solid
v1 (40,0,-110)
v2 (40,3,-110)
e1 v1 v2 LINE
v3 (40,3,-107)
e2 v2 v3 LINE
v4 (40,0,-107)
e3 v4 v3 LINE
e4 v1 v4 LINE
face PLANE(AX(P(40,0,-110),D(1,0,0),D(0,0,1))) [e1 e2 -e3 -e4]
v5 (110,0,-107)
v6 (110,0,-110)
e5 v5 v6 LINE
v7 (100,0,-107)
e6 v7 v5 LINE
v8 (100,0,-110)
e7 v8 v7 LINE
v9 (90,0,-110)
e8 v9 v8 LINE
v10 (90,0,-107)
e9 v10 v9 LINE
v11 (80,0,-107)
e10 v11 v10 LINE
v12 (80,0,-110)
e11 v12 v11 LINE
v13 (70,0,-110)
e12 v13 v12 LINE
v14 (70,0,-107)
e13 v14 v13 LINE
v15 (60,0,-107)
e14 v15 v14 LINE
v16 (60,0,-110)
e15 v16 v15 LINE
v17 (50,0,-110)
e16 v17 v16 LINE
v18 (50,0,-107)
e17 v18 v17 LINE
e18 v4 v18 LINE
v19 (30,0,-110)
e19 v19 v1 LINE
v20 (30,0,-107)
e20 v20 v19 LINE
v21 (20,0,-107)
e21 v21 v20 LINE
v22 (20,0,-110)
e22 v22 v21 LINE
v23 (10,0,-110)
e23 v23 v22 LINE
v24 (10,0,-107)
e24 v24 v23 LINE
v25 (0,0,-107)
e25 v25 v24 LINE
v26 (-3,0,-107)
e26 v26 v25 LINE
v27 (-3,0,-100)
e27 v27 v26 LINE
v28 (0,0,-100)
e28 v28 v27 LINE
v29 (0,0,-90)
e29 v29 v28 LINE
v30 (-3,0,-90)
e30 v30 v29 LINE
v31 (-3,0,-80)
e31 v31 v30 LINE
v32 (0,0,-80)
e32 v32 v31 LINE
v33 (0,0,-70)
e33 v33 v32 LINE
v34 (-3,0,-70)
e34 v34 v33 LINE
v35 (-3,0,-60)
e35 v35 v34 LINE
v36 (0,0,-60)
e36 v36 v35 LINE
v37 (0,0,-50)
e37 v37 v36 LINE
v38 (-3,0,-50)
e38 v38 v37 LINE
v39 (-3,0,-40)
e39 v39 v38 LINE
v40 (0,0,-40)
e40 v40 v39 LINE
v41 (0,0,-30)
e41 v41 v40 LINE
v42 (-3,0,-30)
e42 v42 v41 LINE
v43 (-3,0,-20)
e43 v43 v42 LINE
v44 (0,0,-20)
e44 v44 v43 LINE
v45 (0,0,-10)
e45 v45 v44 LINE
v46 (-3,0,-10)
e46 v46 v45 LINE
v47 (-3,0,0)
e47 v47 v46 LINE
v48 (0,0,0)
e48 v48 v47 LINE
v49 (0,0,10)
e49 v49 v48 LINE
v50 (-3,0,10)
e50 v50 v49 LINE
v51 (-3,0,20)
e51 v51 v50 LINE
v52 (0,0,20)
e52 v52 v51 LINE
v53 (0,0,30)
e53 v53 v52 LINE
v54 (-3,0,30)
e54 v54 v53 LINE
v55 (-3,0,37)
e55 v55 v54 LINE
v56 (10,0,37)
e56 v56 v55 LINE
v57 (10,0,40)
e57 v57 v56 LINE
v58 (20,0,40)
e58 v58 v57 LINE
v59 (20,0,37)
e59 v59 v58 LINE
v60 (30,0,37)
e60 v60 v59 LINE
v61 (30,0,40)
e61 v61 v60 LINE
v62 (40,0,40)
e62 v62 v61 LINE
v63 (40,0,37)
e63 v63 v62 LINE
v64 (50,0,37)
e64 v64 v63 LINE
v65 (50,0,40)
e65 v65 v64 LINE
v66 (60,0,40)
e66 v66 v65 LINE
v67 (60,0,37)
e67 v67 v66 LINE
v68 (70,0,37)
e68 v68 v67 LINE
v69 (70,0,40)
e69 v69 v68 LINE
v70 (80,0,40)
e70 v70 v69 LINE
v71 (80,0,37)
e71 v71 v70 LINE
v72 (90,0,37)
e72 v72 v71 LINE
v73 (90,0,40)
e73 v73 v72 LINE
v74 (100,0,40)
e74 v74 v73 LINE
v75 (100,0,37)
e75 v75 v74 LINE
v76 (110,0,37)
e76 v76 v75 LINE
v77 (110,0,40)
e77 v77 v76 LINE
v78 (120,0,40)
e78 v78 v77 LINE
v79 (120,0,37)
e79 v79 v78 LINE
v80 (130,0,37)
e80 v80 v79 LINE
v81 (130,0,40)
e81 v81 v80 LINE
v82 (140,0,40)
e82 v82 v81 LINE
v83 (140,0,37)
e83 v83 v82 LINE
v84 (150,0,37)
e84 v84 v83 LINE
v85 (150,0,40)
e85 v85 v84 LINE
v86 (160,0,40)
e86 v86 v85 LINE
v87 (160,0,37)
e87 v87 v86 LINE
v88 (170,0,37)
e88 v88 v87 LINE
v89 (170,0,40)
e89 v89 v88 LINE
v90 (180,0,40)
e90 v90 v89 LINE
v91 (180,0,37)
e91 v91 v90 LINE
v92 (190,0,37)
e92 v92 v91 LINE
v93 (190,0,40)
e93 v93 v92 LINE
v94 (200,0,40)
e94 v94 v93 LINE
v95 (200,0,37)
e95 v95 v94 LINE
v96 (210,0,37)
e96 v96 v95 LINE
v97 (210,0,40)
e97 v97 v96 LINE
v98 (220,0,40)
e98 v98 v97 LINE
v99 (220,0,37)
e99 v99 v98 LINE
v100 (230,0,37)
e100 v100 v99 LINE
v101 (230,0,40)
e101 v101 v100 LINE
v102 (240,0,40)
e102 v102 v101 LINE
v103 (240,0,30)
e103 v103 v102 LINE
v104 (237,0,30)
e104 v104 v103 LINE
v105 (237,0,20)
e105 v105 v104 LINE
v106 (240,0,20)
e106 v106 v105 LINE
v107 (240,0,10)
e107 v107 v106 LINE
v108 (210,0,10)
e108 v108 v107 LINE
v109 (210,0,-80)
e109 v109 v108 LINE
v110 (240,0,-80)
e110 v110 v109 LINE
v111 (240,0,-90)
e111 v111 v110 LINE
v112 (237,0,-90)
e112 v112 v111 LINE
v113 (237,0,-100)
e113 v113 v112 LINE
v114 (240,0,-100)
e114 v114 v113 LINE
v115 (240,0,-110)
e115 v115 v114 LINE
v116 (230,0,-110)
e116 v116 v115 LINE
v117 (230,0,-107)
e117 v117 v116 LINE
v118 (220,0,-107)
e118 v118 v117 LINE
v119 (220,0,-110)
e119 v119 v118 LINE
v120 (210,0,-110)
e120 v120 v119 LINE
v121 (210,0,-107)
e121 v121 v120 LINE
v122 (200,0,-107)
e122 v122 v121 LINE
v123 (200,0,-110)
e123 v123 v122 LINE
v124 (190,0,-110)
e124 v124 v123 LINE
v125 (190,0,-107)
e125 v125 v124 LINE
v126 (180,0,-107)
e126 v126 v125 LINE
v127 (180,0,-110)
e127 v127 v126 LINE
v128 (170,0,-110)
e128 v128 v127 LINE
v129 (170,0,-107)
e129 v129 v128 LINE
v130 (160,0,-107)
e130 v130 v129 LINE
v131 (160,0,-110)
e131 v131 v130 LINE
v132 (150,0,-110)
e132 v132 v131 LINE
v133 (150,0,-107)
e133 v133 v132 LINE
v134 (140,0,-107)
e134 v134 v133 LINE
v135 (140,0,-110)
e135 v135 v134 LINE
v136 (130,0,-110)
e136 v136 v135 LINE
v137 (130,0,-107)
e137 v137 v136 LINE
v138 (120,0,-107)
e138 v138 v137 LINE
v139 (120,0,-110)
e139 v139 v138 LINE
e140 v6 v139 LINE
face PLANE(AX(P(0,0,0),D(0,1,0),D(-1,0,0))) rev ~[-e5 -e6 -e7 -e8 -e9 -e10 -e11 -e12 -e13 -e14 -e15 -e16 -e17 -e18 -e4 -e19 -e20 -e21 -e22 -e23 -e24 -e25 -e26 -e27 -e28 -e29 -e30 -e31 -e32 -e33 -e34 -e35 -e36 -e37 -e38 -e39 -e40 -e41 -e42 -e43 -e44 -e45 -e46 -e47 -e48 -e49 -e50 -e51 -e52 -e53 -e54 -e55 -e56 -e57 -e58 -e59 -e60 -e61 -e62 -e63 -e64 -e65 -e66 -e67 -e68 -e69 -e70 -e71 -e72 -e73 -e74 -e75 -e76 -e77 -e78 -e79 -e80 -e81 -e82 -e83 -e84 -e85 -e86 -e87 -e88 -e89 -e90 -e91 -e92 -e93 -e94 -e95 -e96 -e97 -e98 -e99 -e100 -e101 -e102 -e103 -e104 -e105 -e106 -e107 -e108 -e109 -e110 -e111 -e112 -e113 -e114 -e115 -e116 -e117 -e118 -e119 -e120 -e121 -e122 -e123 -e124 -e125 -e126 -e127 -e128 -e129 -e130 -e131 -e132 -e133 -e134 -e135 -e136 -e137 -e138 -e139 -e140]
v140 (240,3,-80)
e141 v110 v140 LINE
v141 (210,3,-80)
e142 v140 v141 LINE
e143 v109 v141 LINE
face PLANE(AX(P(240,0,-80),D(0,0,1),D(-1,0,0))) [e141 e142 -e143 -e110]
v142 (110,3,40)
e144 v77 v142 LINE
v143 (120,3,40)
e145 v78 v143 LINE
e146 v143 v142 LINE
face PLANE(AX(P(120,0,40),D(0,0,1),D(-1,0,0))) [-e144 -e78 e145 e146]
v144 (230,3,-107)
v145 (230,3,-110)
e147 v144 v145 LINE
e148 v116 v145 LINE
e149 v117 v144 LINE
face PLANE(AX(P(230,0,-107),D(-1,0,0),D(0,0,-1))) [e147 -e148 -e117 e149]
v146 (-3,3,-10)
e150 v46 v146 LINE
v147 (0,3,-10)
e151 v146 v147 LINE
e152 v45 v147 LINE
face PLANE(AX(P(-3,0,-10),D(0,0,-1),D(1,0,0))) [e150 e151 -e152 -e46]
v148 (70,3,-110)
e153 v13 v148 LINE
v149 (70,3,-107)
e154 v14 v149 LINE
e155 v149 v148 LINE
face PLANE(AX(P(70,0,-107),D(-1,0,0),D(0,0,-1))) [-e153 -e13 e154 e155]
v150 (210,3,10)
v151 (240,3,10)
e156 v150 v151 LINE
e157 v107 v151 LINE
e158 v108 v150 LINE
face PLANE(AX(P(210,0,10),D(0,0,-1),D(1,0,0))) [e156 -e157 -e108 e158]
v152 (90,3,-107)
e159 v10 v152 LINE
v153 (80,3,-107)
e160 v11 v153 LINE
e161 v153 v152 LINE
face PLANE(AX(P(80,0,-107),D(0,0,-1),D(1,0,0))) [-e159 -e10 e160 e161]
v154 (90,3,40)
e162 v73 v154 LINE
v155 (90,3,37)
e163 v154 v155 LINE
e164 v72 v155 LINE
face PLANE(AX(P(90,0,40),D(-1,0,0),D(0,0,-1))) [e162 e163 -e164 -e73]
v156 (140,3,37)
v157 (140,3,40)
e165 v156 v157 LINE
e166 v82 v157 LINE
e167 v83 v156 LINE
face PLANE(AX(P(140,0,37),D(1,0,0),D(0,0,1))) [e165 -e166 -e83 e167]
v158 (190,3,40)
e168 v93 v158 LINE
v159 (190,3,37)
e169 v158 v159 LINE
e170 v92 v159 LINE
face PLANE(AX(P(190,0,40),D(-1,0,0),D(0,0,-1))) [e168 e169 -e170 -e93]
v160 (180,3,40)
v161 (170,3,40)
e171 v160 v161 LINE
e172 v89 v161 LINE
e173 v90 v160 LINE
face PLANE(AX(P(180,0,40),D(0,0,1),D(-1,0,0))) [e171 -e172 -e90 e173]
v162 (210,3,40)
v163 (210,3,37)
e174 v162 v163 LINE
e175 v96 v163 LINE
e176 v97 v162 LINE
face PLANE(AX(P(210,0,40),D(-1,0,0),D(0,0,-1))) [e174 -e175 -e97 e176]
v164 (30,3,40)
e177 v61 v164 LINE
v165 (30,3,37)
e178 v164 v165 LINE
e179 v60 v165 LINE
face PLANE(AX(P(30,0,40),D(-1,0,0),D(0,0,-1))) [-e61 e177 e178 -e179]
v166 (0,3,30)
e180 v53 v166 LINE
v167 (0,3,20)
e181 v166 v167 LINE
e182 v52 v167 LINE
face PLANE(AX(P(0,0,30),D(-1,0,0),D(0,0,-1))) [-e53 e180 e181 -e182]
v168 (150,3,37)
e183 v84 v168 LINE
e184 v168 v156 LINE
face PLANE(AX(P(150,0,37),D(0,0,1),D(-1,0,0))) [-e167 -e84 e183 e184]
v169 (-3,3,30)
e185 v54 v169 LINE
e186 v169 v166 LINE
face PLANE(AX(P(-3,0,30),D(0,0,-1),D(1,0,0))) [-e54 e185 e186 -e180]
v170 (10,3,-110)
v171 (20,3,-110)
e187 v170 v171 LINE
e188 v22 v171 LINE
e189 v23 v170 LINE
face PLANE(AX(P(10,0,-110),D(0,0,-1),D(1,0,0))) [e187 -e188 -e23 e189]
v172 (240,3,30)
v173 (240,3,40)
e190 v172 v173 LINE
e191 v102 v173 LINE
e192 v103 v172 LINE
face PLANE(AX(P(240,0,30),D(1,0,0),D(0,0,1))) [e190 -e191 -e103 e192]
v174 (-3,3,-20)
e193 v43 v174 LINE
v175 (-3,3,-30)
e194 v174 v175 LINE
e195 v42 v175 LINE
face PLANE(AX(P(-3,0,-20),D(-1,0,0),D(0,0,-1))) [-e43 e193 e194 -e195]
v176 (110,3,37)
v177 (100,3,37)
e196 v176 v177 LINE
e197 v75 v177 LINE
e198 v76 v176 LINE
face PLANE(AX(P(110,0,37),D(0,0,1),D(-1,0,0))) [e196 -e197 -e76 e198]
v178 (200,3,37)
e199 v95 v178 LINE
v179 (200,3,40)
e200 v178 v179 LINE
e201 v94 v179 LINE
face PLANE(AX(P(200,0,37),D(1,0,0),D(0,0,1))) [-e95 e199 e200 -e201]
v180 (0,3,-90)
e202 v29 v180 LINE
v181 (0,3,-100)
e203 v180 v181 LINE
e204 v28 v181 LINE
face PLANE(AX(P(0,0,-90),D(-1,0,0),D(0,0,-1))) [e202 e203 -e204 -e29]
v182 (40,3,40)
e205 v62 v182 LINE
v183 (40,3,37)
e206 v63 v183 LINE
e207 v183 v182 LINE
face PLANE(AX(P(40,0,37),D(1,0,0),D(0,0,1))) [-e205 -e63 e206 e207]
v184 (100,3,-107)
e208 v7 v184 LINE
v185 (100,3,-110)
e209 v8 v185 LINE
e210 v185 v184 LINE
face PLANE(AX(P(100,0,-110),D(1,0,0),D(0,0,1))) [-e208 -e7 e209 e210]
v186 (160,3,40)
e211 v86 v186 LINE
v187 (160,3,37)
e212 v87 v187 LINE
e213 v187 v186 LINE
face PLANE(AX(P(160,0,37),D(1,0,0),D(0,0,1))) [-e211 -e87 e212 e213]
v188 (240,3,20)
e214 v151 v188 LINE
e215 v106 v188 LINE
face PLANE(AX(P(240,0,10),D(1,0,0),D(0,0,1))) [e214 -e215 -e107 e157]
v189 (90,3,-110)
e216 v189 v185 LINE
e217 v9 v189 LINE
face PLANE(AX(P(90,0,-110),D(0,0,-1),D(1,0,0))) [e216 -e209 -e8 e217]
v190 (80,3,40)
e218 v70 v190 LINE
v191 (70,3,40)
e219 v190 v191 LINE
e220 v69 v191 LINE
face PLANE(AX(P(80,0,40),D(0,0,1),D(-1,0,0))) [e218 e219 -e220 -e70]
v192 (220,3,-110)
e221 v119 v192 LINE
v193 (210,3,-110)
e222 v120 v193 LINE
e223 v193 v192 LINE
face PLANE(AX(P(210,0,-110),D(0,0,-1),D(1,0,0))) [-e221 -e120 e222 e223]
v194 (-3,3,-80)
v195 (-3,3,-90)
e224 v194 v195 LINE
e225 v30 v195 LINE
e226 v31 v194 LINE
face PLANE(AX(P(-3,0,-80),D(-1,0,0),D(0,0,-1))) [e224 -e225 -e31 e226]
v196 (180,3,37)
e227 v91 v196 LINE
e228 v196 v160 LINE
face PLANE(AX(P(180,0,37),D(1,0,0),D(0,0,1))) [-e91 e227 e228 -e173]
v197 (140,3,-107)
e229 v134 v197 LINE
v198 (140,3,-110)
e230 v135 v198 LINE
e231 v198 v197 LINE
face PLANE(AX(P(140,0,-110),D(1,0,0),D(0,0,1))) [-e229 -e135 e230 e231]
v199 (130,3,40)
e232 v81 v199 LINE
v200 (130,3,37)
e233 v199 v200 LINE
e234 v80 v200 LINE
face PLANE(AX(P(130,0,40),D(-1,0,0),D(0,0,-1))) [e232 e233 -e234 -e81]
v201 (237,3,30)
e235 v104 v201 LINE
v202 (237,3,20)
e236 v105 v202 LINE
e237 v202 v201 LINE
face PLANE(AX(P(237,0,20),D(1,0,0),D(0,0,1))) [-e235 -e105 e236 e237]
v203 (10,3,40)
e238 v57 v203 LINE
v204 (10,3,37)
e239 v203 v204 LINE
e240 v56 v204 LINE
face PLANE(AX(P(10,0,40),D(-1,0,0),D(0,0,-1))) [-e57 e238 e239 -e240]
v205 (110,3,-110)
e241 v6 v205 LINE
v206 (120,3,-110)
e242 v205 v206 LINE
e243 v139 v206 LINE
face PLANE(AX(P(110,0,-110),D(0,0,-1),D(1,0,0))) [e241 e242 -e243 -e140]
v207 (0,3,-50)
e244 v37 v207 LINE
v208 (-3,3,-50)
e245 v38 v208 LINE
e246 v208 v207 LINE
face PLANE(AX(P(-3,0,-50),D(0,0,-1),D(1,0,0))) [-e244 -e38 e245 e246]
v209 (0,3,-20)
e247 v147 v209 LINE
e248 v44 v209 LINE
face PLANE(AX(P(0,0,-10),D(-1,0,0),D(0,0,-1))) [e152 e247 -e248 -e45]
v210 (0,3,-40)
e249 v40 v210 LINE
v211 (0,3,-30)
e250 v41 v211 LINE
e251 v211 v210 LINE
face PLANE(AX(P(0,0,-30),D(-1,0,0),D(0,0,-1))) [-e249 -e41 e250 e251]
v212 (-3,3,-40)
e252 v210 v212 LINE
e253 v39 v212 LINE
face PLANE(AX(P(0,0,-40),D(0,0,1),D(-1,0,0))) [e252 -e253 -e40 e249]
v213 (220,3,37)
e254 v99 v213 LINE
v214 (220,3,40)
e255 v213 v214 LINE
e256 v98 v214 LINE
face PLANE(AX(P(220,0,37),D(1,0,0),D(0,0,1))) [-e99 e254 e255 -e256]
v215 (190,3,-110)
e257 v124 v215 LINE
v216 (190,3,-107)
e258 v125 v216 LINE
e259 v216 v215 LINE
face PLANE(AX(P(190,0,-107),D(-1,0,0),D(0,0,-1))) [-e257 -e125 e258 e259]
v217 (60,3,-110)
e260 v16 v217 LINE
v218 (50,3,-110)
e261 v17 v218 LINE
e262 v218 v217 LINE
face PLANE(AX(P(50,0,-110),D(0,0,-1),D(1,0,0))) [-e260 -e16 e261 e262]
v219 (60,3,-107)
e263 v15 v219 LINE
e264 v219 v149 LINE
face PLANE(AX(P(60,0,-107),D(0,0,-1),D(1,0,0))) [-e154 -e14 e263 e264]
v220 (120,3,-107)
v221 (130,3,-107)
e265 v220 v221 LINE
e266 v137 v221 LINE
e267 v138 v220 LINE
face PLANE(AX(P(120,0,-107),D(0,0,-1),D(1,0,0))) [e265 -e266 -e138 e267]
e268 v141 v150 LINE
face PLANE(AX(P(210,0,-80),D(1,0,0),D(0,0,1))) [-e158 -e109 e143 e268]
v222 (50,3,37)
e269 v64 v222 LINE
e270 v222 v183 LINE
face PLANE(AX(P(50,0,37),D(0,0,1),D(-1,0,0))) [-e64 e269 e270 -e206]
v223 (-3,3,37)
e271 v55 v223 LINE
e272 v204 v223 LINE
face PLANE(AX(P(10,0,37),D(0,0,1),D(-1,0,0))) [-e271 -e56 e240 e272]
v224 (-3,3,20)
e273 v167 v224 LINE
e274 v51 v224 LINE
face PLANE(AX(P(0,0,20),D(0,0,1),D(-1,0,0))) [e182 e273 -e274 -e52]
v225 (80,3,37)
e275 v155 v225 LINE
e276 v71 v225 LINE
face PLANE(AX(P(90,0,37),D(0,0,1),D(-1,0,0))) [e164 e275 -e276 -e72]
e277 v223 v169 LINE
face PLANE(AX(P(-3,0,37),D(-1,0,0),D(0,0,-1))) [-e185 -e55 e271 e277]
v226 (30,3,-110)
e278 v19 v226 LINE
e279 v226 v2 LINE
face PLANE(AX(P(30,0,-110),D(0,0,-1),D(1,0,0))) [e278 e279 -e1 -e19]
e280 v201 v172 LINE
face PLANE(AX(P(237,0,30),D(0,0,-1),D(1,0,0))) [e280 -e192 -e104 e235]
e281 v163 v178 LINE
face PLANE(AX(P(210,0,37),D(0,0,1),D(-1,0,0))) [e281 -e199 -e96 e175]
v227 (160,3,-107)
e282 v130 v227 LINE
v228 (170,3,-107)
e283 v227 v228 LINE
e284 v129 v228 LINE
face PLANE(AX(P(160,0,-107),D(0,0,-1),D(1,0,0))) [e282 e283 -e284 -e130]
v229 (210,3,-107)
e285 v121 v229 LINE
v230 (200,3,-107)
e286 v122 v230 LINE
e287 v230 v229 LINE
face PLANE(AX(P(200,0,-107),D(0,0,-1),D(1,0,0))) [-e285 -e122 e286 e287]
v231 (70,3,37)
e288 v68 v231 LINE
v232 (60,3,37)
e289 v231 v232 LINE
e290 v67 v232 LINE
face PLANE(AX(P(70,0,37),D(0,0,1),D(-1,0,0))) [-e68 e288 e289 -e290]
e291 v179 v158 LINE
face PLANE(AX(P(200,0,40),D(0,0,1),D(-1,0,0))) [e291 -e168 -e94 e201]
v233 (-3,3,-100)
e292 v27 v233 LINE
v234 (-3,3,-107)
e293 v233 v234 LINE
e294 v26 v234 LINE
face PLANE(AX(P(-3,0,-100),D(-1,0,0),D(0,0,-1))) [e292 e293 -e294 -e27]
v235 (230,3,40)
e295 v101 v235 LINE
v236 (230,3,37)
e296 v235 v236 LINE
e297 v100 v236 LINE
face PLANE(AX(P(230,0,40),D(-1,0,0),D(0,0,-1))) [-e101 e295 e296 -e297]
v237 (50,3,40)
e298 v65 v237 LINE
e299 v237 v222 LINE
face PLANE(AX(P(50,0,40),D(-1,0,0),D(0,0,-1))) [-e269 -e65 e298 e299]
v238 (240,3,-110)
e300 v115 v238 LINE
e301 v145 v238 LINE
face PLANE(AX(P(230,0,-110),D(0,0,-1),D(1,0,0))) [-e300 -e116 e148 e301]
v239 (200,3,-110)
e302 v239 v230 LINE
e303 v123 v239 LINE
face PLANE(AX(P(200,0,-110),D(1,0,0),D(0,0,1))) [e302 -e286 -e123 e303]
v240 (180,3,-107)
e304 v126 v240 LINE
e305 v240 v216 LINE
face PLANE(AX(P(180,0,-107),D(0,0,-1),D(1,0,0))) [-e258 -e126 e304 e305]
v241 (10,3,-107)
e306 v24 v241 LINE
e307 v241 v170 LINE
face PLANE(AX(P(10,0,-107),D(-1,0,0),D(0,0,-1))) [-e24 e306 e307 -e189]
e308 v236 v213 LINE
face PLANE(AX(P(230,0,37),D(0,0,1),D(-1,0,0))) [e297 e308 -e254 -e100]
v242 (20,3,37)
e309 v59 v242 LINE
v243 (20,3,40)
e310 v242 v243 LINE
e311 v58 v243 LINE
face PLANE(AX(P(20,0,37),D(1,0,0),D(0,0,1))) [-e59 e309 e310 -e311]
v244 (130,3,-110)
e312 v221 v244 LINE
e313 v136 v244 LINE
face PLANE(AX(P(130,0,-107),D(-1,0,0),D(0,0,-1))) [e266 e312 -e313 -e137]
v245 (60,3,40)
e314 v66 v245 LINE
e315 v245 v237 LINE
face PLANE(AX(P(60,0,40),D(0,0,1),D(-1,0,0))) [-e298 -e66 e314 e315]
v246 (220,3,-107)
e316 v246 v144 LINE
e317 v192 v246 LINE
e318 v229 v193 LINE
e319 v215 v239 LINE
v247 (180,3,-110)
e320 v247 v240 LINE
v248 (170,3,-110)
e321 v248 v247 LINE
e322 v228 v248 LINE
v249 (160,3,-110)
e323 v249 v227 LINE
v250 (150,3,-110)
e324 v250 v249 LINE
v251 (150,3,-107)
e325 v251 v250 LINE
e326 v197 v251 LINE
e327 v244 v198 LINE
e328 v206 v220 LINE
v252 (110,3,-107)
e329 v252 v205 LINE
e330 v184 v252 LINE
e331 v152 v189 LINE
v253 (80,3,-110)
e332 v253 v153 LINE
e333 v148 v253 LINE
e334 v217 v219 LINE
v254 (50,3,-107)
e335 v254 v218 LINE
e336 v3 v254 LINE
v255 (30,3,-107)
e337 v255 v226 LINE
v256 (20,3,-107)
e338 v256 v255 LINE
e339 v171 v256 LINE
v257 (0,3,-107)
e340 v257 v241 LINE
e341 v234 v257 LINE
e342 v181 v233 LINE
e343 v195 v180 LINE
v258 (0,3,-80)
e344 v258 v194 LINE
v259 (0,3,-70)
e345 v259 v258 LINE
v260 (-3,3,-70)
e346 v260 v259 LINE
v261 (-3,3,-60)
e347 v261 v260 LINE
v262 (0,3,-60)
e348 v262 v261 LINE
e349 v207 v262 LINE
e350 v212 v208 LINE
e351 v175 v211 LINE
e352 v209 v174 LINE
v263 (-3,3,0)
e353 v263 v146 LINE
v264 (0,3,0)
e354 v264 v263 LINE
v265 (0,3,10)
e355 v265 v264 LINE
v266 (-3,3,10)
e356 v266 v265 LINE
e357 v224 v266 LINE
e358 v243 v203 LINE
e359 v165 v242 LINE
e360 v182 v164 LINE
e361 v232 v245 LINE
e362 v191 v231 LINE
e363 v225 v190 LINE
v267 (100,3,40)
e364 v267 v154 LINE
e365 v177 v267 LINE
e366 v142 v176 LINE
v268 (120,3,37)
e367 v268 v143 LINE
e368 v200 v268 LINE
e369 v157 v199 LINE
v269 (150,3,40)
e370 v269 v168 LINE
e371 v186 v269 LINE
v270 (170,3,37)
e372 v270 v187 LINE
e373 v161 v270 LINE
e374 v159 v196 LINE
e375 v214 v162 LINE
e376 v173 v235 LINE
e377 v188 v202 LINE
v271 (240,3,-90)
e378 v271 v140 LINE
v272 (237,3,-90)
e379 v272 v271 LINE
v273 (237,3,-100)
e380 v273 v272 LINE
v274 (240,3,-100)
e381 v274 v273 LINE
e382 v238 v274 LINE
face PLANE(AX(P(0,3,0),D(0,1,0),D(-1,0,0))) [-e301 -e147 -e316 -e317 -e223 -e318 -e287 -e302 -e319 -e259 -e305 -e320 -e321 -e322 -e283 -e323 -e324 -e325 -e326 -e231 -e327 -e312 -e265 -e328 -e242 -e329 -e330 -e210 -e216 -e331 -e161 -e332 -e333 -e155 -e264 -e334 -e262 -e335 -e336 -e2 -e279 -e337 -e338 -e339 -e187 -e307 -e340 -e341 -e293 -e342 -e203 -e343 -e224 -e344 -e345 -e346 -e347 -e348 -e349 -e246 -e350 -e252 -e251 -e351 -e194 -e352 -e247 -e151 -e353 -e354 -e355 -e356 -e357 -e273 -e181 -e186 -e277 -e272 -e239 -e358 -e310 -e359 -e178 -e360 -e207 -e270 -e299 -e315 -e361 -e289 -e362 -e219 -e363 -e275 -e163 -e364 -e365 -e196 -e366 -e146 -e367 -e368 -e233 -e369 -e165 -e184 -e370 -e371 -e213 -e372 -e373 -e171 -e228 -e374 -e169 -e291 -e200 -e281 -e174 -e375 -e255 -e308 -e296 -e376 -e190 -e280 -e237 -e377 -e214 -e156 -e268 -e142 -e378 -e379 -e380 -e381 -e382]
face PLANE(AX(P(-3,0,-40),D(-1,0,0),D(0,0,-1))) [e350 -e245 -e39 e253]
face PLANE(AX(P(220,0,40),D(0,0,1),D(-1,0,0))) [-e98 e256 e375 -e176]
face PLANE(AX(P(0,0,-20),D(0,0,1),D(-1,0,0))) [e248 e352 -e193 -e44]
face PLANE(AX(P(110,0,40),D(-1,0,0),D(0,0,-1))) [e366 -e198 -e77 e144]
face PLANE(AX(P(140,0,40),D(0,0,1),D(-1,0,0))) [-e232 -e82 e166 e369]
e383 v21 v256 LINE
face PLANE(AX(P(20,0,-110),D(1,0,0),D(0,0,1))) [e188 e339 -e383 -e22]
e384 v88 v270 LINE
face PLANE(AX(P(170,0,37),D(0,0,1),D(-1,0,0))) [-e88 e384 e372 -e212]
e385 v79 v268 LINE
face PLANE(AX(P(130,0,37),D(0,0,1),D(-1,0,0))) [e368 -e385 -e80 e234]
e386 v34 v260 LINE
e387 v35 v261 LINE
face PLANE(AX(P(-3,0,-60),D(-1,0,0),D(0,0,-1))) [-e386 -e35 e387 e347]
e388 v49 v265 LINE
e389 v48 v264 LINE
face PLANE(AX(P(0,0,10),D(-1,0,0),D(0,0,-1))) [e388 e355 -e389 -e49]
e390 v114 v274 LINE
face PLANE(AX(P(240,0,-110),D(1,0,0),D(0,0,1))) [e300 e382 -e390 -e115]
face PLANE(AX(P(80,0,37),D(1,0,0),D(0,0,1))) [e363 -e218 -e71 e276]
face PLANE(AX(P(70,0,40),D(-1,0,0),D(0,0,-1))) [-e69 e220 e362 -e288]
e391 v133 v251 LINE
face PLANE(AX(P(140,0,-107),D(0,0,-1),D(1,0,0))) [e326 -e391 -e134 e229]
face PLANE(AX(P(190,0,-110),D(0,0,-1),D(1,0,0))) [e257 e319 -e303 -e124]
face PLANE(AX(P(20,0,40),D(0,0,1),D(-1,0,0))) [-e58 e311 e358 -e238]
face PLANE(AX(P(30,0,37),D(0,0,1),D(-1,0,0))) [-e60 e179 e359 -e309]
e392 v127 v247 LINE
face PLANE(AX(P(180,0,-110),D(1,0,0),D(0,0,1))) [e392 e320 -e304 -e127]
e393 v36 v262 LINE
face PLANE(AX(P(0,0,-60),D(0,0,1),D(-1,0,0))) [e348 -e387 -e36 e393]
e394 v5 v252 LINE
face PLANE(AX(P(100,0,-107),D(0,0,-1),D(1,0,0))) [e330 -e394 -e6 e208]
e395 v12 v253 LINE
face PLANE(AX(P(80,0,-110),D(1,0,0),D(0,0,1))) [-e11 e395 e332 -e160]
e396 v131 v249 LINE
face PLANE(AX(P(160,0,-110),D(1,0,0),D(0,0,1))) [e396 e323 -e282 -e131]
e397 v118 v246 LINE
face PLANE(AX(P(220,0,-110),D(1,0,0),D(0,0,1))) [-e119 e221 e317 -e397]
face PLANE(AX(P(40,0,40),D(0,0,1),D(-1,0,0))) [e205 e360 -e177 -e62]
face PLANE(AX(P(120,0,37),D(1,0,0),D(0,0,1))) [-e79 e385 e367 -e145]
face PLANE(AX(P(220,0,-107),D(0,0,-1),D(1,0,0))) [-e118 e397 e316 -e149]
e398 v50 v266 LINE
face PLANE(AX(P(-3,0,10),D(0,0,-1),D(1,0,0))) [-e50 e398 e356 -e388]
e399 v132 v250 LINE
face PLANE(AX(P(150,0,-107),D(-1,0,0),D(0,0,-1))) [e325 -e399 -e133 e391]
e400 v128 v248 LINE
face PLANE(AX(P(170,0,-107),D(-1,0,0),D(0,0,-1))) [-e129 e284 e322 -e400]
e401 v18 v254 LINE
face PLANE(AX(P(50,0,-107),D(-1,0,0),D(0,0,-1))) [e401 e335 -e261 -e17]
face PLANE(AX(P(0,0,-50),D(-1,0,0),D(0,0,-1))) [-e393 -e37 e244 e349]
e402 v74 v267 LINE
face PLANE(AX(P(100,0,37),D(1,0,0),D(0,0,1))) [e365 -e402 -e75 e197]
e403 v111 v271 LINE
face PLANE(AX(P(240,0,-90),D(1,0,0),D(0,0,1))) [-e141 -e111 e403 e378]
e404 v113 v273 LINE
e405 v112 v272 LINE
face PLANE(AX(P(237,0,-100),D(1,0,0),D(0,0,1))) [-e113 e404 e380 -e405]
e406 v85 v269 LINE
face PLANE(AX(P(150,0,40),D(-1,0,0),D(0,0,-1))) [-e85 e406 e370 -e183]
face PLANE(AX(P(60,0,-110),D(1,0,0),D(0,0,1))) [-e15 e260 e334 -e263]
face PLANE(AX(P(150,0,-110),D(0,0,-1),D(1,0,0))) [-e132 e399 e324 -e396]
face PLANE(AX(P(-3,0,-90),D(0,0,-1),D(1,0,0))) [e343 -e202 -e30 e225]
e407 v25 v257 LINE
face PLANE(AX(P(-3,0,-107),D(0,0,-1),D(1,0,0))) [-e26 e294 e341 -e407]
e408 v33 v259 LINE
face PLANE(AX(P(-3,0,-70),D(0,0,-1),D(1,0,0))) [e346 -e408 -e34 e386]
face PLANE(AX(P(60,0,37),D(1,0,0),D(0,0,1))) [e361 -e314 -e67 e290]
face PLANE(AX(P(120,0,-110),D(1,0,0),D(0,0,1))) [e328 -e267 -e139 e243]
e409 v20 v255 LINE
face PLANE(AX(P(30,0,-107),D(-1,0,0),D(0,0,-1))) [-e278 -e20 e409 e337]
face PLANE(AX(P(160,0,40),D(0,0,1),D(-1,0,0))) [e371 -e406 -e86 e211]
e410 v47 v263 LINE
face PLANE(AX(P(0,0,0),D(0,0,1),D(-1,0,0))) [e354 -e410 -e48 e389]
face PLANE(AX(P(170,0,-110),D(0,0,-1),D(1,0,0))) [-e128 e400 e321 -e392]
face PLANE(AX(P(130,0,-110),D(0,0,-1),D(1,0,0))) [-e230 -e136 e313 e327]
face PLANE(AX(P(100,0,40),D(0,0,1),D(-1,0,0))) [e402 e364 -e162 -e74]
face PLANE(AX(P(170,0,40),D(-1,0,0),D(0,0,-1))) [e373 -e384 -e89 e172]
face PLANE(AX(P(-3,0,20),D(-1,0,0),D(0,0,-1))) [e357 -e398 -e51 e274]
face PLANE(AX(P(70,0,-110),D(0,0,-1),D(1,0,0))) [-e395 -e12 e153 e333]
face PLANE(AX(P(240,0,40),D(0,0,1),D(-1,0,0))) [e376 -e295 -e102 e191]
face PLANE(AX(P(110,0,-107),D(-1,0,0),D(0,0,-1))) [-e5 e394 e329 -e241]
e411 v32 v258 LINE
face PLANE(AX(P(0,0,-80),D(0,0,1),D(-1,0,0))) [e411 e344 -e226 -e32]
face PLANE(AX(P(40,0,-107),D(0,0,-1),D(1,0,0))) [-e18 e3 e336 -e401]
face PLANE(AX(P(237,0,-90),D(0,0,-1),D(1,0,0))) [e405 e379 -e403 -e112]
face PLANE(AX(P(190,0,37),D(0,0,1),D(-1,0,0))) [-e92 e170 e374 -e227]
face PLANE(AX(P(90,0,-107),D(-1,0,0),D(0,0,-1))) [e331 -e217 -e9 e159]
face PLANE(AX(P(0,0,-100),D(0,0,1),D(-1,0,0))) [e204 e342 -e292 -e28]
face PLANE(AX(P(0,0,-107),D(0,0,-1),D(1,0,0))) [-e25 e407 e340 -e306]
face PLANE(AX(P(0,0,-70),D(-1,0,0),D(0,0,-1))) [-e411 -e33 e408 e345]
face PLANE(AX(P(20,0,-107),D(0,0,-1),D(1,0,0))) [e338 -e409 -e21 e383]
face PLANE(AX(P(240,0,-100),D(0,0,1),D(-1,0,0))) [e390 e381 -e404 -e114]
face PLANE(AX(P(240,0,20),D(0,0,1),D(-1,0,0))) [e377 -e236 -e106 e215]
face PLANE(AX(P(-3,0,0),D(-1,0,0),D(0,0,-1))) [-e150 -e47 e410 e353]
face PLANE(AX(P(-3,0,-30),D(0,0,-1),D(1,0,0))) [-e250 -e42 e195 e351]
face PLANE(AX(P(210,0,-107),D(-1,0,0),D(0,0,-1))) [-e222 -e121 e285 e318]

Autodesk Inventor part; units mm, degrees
ref_plane "YZ Plane" through (0, 0, 0) normal (1, 0, 0) x (0, 1, 0)
ref_plane "XZ Plane" through (0, 0, 0) normal (0, 1, 0) x (-1, 0, 0)
ref_plane "XY Plane" through (0, 0, 0) normal (0, 0, 1) x (1, 0, 0)
sketch "Sketch1" plane through (0, 0, 0) normal (0, 1, 0) x (-1, 0, 0)
  point P0 (0, 0)
sketch "Sketch2" plane through (0, 0, 0) normal (0, 1, 0) x (-1, 0, 0)
  line L0 (0, 0) -> (3, 0)
  line L1 (3, 0) -> (3, -10)
  line L2 (3, -10) -> (0, -10)
  line L3 (0, -10) -> (0, -20)
  line L4 (0, -20) -> (3, -20)
  line L5 (3, -20) -> (3, -30)
  line L6 (3, -30) -> (0, -30)
  line L7 (0, -30) -> (0, -40)
  line L8 (0, -40) -> (3, -40)
  line L9 (3, -40) -> (3, -50)
  line L10 (3, -50) -> (0, -50)
  line L11 (0, -50) -> (0, -60)
  line L12 (0, -60) -> (3, -60)
  line L13 (3, -60) -> (3, -70)
  line L14 (3, -70) -> (0, -70)
  line L15 (0, -70) -> (0, -80)
  line L16 (0, -80) -> (3, -80)
  line L17 (3, -80) -> (3, -90)
  line L18 (3, -90) -> (0, -90)
  line L19 (0, -90) -> (0, -100)
  line L20 (0, -100) -> (3, -100)
  line L21 (3, -100) -> (3, -107)
  line L22 (3, -107) -> (0, -107)
  line L23 (0, -107) -> (-10, -107)
  line L24 (-10, -107) -> (-10, -110)
  line L25 (-10, -110) -> (-20, -110)
  line L26 (-20, -110) -> (-20, -107)
  line L27 (-20, -107) -> (-30, -107)
  line L28 (-30, -107) -> (-30, -110)
  line L29 (-30, -110) -> (-40, -110)
  line L30 (-40, -110) -> (-40, -107)
  line L31 (-40, -107) -> (-50, -107)
  line L32 (-50, -107) -> (-50, -110)
  line L33 (-50, -110) -> (-60, -110)
  line L34 (-60, -110) -> (-60, -107)
  line L35 (-60, -107) -> (-70, -107)
  line L36 (-70, -107) -> (-70, -110)
  line L37 (-70, -110) -> (-80, -110)
  line L38 (-80, -110) -> (-80, -107)
  line L39 (-80, -107) -> (-90, -107)
  line L40 (-90, -107) -> (-90, -110)
  line L41 (-90, -110) -> (-100, -110)
  line L42 (-100, -110) -> (-100, -107)
  line L43 (-100, -107) -> (-110, -107)
  line L44 (-110, -107) -> (-110, -110)
  line L45 (-110, -110) -> (-120, -110)
  line L46 (-120, -110) -> (-120, -107)
  line L47 (-120, -107) -> (-130, -107)
  line L48 (-130, -107) -> (-130, -110)
  line L49 (-130, -110) -> (-140, -110)
  line L50 (-140, -110) -> (-140, -107)
  line L51 (-140, -107) -> (-150, -107)
  line L52 (-150, -107) -> (-150, -110)
  line L53 (-150, -110) -> (-160, -110)
  line L54 (-160, -110) -> (-160, -107)
  line L55 (-160, -107) -> (-170, -107)
  line L56 (-170, -107) -> (-170, -110)
  line L57 (-170, -110) -> (-180, -110)
  line L58 (-180, -110) -> (-180, -107)
  line L59 (-180, -107) -> (-190, -107)
  line L60 (-190, -107) -> (-190, -110)
  line L61 (-190, -110) -> (-200, -110)
  line L62 (-200, -110) -> (-200, -107)
  line L63 (-200, -107) -> (-210, -107)
  line L64 (-210, -107) -> (-210, -110)
  line L65 (-210, -110) -> (-220, -110)
  line L66 (-220, -110) -> (-220, -107)
  line L67 (-220, -107) -> (-230, -107)
  line L68 (-230, -107) -> (-230, -110)
  line L69 (-230, -110) -> (-240, -110)
  line L70 (-240, -110) -> (-240, -100)
  line L71 (-240, -100) -> (-237, -100)
  line L72 (-237, -100) -> (-237, -90)
  line L73 (-237, -90) -> (-240, -90)
  line L74 (-240, -90) -> (-240, -80)
  line L75 (-240, -80) -> (-210, -80)
  line L76 (-210, -80) -> (-210, 10)
  line L77 (-210, 10) -> (-240, 10)
  line L78 (-240, 10) -> (-240, 20)
  line L79 (-240, 20) -> (-237, 20)
  line L80 (-237, 20) -> (-237, 30)
  line L81 (-237, 30) -> (-240, 30)
  line L82 (-240, 30) -> (-240, 40)
  line L83 (-240, 40) -> (-230, 40)
  line L84 (-230, 40) -> (-230, 37)
  line L85 (-230, 37) -> (-220, 37)
  line L86 (-220, 37) -> (-220, 40)
  line L87 (-220, 40) -> (-210, 40)
  line L88 (-210, 40) -> (-210, 37)
  line L89 (-210, 37) -> (-200, 37)
  line L90 (-200, 37) -> (-200, 40)
  line L91 (-200, 40) -> (-190, 40)
  line L92 (-190, 40) -> (-190, 37)
  line L93 (-190, 37) -> (-180, 37)
  line L94 (-180, 37) -> (-180, 40)
  line L95 (-180, 40) -> (-170, 40)
  line L96 (-170, 40) -> (-170, 37)
  line L97 (-170, 37) -> (-160, 37)
  line L98 (-160, 37) -> (-160, 40)
  line L99 (-160, 40) -> (-150, 40)
  line L100 (-150, 40) -> (-150, 37)
  line L101 (-150, 37) -> (-140, 37)
  line L102 (-140, 37) -> (-140, 40)
  line L103 (-140, 40) -> (-130, 40)
  line L104 (-130, 40) -> (-130, 37)
  line L105 (-130, 37) -> (-120, 37)
  line L106 (-120, 37) -> (-120, 40)
  line L107 (-120, 40) -> (-110, 40)
  line L108 (-110, 40) -> (-110, 37)
  line L109 (-110, 37) -> (-100, 37)
  line L110 (-100, 37) -> (-100, 40)
  line L111 (-100, 40) -> (-90, 40)
  line L112 (-90, 40) -> (-90, 37)
  line L113 (-90, 37) -> (-80, 37)
  line L114 (-80, 37) -> (-80, 40)
  line L115 (-80, 40) -> (-70, 40)
  line L116 (-70, 40) -> (-70, 37)
  line L117 (-70, 37) -> (-60, 37)
  line L118 (-60, 37) -> (-60, 40)
  line L119 (-60, 40) -> (-50, 40)
  line L120 (-50, 40) -> (-50, 37)
  line L121 (-50, 37) -> (-40, 37)
  line L122 (-40, 37) -> (-40, 40)
  line L123 (-40, 40) -> (-30, 40)
  line L124 (-30, 40) -> (-30, 37)
  line L125 (-30, 37) -> (-20, 37)
  line L126 (-20, 37) -> (-20, 40)
  line L127 (-20, 40) -> (-10, 40)
  line L128 (-10, 40) -> (-10, 37)
  line L129 (-10, 37) -> (3, 37)
  line L130 (3, 37) -> (3, 30)
  line L131 (3, 30) -> (0, 30)
  line L132 (0, 30) -> (0, 20)
  line L133 (3, 10) -> (0, 10)
  line L134 (0, 10) -> (0, 0)
  line L135 (3, 20) -> (3, 10)
  line L136 (0, 20) -> (3, 20)
  dimension "d1" = 10
  dimension "d3" = 10
  dimension "d4" = 10
  dimension "d5" = 10
  dimension "d6" = 10
  dimension "d7" = 10
  dimension "d8" = 10
  dimension "d9" = 10
  dimension "d10" = 10
  dimension "d11" = 10
  dimension "d12" = 7
  dimension "d42" = 3
  dimension "d43" = 10
  dimension "d44" = 10
  dimension "d45" = 10
  dimension "d46" = 10
  dimension "d47" = 10
  dimension "d48" = 10
  dimension "d49" = 10
  dimension "d50" = 10
  dimension "d51" = 10
  dimension "d52" = 10
  dimension "d53" = 10
  dimension "d54" = 10
  dimension "d55" = 10
  dimension "d56" = 10
  dimension "d57" = 10
  dimension "d58" = 10
  dimension "d59" = 10
  dimension "d60" = 10
  dimension "d61" = 10
  dimension "d62" = 10
  dimension "d63" = 10
  dimension "d64" = 10
  dimension "d66" = 10
  dimension "d67" = 10
  dimension "d68" = 10
  dimension "d69" = 3
  dimension "d70" = 10
  dimension "d71" = 10
  dimension "d73" = 10
  dimension "d74" = 10
  dimension "d75" = 10
  dimension "d79" = 10
  dimension "d80" = 10
  dimension "d81" = 10
  dimension "d82" = 10
  dimension "d83" = 10
  dimension "d84" = 10
  dimension "d85" = 10
  dimension "d86" = 10
  dimension "d87" = 10
  dimension "d88" = 10
  dimension "d89" = 10
  dimension "d90" = 10
  dimension "d91" = 10
  dimension "d92" = 10
  dimension "d93" = 10
  dimension "d94" = 10
  dimension "d95" = 10
  dimension "d96" = 10
  dimension "d97" = 10
  dimension "d98" = 10
  dimension "d99" = 10
sketch "Sketch3" plane through (0, 0, 0) normal (0, 1, 0) x (-1, 0, 0)
  point P0 (0, 0)
extrude "Extrusion1" add sketch "Sketch2" along normal blind 3
properties part number "cara_superior"
